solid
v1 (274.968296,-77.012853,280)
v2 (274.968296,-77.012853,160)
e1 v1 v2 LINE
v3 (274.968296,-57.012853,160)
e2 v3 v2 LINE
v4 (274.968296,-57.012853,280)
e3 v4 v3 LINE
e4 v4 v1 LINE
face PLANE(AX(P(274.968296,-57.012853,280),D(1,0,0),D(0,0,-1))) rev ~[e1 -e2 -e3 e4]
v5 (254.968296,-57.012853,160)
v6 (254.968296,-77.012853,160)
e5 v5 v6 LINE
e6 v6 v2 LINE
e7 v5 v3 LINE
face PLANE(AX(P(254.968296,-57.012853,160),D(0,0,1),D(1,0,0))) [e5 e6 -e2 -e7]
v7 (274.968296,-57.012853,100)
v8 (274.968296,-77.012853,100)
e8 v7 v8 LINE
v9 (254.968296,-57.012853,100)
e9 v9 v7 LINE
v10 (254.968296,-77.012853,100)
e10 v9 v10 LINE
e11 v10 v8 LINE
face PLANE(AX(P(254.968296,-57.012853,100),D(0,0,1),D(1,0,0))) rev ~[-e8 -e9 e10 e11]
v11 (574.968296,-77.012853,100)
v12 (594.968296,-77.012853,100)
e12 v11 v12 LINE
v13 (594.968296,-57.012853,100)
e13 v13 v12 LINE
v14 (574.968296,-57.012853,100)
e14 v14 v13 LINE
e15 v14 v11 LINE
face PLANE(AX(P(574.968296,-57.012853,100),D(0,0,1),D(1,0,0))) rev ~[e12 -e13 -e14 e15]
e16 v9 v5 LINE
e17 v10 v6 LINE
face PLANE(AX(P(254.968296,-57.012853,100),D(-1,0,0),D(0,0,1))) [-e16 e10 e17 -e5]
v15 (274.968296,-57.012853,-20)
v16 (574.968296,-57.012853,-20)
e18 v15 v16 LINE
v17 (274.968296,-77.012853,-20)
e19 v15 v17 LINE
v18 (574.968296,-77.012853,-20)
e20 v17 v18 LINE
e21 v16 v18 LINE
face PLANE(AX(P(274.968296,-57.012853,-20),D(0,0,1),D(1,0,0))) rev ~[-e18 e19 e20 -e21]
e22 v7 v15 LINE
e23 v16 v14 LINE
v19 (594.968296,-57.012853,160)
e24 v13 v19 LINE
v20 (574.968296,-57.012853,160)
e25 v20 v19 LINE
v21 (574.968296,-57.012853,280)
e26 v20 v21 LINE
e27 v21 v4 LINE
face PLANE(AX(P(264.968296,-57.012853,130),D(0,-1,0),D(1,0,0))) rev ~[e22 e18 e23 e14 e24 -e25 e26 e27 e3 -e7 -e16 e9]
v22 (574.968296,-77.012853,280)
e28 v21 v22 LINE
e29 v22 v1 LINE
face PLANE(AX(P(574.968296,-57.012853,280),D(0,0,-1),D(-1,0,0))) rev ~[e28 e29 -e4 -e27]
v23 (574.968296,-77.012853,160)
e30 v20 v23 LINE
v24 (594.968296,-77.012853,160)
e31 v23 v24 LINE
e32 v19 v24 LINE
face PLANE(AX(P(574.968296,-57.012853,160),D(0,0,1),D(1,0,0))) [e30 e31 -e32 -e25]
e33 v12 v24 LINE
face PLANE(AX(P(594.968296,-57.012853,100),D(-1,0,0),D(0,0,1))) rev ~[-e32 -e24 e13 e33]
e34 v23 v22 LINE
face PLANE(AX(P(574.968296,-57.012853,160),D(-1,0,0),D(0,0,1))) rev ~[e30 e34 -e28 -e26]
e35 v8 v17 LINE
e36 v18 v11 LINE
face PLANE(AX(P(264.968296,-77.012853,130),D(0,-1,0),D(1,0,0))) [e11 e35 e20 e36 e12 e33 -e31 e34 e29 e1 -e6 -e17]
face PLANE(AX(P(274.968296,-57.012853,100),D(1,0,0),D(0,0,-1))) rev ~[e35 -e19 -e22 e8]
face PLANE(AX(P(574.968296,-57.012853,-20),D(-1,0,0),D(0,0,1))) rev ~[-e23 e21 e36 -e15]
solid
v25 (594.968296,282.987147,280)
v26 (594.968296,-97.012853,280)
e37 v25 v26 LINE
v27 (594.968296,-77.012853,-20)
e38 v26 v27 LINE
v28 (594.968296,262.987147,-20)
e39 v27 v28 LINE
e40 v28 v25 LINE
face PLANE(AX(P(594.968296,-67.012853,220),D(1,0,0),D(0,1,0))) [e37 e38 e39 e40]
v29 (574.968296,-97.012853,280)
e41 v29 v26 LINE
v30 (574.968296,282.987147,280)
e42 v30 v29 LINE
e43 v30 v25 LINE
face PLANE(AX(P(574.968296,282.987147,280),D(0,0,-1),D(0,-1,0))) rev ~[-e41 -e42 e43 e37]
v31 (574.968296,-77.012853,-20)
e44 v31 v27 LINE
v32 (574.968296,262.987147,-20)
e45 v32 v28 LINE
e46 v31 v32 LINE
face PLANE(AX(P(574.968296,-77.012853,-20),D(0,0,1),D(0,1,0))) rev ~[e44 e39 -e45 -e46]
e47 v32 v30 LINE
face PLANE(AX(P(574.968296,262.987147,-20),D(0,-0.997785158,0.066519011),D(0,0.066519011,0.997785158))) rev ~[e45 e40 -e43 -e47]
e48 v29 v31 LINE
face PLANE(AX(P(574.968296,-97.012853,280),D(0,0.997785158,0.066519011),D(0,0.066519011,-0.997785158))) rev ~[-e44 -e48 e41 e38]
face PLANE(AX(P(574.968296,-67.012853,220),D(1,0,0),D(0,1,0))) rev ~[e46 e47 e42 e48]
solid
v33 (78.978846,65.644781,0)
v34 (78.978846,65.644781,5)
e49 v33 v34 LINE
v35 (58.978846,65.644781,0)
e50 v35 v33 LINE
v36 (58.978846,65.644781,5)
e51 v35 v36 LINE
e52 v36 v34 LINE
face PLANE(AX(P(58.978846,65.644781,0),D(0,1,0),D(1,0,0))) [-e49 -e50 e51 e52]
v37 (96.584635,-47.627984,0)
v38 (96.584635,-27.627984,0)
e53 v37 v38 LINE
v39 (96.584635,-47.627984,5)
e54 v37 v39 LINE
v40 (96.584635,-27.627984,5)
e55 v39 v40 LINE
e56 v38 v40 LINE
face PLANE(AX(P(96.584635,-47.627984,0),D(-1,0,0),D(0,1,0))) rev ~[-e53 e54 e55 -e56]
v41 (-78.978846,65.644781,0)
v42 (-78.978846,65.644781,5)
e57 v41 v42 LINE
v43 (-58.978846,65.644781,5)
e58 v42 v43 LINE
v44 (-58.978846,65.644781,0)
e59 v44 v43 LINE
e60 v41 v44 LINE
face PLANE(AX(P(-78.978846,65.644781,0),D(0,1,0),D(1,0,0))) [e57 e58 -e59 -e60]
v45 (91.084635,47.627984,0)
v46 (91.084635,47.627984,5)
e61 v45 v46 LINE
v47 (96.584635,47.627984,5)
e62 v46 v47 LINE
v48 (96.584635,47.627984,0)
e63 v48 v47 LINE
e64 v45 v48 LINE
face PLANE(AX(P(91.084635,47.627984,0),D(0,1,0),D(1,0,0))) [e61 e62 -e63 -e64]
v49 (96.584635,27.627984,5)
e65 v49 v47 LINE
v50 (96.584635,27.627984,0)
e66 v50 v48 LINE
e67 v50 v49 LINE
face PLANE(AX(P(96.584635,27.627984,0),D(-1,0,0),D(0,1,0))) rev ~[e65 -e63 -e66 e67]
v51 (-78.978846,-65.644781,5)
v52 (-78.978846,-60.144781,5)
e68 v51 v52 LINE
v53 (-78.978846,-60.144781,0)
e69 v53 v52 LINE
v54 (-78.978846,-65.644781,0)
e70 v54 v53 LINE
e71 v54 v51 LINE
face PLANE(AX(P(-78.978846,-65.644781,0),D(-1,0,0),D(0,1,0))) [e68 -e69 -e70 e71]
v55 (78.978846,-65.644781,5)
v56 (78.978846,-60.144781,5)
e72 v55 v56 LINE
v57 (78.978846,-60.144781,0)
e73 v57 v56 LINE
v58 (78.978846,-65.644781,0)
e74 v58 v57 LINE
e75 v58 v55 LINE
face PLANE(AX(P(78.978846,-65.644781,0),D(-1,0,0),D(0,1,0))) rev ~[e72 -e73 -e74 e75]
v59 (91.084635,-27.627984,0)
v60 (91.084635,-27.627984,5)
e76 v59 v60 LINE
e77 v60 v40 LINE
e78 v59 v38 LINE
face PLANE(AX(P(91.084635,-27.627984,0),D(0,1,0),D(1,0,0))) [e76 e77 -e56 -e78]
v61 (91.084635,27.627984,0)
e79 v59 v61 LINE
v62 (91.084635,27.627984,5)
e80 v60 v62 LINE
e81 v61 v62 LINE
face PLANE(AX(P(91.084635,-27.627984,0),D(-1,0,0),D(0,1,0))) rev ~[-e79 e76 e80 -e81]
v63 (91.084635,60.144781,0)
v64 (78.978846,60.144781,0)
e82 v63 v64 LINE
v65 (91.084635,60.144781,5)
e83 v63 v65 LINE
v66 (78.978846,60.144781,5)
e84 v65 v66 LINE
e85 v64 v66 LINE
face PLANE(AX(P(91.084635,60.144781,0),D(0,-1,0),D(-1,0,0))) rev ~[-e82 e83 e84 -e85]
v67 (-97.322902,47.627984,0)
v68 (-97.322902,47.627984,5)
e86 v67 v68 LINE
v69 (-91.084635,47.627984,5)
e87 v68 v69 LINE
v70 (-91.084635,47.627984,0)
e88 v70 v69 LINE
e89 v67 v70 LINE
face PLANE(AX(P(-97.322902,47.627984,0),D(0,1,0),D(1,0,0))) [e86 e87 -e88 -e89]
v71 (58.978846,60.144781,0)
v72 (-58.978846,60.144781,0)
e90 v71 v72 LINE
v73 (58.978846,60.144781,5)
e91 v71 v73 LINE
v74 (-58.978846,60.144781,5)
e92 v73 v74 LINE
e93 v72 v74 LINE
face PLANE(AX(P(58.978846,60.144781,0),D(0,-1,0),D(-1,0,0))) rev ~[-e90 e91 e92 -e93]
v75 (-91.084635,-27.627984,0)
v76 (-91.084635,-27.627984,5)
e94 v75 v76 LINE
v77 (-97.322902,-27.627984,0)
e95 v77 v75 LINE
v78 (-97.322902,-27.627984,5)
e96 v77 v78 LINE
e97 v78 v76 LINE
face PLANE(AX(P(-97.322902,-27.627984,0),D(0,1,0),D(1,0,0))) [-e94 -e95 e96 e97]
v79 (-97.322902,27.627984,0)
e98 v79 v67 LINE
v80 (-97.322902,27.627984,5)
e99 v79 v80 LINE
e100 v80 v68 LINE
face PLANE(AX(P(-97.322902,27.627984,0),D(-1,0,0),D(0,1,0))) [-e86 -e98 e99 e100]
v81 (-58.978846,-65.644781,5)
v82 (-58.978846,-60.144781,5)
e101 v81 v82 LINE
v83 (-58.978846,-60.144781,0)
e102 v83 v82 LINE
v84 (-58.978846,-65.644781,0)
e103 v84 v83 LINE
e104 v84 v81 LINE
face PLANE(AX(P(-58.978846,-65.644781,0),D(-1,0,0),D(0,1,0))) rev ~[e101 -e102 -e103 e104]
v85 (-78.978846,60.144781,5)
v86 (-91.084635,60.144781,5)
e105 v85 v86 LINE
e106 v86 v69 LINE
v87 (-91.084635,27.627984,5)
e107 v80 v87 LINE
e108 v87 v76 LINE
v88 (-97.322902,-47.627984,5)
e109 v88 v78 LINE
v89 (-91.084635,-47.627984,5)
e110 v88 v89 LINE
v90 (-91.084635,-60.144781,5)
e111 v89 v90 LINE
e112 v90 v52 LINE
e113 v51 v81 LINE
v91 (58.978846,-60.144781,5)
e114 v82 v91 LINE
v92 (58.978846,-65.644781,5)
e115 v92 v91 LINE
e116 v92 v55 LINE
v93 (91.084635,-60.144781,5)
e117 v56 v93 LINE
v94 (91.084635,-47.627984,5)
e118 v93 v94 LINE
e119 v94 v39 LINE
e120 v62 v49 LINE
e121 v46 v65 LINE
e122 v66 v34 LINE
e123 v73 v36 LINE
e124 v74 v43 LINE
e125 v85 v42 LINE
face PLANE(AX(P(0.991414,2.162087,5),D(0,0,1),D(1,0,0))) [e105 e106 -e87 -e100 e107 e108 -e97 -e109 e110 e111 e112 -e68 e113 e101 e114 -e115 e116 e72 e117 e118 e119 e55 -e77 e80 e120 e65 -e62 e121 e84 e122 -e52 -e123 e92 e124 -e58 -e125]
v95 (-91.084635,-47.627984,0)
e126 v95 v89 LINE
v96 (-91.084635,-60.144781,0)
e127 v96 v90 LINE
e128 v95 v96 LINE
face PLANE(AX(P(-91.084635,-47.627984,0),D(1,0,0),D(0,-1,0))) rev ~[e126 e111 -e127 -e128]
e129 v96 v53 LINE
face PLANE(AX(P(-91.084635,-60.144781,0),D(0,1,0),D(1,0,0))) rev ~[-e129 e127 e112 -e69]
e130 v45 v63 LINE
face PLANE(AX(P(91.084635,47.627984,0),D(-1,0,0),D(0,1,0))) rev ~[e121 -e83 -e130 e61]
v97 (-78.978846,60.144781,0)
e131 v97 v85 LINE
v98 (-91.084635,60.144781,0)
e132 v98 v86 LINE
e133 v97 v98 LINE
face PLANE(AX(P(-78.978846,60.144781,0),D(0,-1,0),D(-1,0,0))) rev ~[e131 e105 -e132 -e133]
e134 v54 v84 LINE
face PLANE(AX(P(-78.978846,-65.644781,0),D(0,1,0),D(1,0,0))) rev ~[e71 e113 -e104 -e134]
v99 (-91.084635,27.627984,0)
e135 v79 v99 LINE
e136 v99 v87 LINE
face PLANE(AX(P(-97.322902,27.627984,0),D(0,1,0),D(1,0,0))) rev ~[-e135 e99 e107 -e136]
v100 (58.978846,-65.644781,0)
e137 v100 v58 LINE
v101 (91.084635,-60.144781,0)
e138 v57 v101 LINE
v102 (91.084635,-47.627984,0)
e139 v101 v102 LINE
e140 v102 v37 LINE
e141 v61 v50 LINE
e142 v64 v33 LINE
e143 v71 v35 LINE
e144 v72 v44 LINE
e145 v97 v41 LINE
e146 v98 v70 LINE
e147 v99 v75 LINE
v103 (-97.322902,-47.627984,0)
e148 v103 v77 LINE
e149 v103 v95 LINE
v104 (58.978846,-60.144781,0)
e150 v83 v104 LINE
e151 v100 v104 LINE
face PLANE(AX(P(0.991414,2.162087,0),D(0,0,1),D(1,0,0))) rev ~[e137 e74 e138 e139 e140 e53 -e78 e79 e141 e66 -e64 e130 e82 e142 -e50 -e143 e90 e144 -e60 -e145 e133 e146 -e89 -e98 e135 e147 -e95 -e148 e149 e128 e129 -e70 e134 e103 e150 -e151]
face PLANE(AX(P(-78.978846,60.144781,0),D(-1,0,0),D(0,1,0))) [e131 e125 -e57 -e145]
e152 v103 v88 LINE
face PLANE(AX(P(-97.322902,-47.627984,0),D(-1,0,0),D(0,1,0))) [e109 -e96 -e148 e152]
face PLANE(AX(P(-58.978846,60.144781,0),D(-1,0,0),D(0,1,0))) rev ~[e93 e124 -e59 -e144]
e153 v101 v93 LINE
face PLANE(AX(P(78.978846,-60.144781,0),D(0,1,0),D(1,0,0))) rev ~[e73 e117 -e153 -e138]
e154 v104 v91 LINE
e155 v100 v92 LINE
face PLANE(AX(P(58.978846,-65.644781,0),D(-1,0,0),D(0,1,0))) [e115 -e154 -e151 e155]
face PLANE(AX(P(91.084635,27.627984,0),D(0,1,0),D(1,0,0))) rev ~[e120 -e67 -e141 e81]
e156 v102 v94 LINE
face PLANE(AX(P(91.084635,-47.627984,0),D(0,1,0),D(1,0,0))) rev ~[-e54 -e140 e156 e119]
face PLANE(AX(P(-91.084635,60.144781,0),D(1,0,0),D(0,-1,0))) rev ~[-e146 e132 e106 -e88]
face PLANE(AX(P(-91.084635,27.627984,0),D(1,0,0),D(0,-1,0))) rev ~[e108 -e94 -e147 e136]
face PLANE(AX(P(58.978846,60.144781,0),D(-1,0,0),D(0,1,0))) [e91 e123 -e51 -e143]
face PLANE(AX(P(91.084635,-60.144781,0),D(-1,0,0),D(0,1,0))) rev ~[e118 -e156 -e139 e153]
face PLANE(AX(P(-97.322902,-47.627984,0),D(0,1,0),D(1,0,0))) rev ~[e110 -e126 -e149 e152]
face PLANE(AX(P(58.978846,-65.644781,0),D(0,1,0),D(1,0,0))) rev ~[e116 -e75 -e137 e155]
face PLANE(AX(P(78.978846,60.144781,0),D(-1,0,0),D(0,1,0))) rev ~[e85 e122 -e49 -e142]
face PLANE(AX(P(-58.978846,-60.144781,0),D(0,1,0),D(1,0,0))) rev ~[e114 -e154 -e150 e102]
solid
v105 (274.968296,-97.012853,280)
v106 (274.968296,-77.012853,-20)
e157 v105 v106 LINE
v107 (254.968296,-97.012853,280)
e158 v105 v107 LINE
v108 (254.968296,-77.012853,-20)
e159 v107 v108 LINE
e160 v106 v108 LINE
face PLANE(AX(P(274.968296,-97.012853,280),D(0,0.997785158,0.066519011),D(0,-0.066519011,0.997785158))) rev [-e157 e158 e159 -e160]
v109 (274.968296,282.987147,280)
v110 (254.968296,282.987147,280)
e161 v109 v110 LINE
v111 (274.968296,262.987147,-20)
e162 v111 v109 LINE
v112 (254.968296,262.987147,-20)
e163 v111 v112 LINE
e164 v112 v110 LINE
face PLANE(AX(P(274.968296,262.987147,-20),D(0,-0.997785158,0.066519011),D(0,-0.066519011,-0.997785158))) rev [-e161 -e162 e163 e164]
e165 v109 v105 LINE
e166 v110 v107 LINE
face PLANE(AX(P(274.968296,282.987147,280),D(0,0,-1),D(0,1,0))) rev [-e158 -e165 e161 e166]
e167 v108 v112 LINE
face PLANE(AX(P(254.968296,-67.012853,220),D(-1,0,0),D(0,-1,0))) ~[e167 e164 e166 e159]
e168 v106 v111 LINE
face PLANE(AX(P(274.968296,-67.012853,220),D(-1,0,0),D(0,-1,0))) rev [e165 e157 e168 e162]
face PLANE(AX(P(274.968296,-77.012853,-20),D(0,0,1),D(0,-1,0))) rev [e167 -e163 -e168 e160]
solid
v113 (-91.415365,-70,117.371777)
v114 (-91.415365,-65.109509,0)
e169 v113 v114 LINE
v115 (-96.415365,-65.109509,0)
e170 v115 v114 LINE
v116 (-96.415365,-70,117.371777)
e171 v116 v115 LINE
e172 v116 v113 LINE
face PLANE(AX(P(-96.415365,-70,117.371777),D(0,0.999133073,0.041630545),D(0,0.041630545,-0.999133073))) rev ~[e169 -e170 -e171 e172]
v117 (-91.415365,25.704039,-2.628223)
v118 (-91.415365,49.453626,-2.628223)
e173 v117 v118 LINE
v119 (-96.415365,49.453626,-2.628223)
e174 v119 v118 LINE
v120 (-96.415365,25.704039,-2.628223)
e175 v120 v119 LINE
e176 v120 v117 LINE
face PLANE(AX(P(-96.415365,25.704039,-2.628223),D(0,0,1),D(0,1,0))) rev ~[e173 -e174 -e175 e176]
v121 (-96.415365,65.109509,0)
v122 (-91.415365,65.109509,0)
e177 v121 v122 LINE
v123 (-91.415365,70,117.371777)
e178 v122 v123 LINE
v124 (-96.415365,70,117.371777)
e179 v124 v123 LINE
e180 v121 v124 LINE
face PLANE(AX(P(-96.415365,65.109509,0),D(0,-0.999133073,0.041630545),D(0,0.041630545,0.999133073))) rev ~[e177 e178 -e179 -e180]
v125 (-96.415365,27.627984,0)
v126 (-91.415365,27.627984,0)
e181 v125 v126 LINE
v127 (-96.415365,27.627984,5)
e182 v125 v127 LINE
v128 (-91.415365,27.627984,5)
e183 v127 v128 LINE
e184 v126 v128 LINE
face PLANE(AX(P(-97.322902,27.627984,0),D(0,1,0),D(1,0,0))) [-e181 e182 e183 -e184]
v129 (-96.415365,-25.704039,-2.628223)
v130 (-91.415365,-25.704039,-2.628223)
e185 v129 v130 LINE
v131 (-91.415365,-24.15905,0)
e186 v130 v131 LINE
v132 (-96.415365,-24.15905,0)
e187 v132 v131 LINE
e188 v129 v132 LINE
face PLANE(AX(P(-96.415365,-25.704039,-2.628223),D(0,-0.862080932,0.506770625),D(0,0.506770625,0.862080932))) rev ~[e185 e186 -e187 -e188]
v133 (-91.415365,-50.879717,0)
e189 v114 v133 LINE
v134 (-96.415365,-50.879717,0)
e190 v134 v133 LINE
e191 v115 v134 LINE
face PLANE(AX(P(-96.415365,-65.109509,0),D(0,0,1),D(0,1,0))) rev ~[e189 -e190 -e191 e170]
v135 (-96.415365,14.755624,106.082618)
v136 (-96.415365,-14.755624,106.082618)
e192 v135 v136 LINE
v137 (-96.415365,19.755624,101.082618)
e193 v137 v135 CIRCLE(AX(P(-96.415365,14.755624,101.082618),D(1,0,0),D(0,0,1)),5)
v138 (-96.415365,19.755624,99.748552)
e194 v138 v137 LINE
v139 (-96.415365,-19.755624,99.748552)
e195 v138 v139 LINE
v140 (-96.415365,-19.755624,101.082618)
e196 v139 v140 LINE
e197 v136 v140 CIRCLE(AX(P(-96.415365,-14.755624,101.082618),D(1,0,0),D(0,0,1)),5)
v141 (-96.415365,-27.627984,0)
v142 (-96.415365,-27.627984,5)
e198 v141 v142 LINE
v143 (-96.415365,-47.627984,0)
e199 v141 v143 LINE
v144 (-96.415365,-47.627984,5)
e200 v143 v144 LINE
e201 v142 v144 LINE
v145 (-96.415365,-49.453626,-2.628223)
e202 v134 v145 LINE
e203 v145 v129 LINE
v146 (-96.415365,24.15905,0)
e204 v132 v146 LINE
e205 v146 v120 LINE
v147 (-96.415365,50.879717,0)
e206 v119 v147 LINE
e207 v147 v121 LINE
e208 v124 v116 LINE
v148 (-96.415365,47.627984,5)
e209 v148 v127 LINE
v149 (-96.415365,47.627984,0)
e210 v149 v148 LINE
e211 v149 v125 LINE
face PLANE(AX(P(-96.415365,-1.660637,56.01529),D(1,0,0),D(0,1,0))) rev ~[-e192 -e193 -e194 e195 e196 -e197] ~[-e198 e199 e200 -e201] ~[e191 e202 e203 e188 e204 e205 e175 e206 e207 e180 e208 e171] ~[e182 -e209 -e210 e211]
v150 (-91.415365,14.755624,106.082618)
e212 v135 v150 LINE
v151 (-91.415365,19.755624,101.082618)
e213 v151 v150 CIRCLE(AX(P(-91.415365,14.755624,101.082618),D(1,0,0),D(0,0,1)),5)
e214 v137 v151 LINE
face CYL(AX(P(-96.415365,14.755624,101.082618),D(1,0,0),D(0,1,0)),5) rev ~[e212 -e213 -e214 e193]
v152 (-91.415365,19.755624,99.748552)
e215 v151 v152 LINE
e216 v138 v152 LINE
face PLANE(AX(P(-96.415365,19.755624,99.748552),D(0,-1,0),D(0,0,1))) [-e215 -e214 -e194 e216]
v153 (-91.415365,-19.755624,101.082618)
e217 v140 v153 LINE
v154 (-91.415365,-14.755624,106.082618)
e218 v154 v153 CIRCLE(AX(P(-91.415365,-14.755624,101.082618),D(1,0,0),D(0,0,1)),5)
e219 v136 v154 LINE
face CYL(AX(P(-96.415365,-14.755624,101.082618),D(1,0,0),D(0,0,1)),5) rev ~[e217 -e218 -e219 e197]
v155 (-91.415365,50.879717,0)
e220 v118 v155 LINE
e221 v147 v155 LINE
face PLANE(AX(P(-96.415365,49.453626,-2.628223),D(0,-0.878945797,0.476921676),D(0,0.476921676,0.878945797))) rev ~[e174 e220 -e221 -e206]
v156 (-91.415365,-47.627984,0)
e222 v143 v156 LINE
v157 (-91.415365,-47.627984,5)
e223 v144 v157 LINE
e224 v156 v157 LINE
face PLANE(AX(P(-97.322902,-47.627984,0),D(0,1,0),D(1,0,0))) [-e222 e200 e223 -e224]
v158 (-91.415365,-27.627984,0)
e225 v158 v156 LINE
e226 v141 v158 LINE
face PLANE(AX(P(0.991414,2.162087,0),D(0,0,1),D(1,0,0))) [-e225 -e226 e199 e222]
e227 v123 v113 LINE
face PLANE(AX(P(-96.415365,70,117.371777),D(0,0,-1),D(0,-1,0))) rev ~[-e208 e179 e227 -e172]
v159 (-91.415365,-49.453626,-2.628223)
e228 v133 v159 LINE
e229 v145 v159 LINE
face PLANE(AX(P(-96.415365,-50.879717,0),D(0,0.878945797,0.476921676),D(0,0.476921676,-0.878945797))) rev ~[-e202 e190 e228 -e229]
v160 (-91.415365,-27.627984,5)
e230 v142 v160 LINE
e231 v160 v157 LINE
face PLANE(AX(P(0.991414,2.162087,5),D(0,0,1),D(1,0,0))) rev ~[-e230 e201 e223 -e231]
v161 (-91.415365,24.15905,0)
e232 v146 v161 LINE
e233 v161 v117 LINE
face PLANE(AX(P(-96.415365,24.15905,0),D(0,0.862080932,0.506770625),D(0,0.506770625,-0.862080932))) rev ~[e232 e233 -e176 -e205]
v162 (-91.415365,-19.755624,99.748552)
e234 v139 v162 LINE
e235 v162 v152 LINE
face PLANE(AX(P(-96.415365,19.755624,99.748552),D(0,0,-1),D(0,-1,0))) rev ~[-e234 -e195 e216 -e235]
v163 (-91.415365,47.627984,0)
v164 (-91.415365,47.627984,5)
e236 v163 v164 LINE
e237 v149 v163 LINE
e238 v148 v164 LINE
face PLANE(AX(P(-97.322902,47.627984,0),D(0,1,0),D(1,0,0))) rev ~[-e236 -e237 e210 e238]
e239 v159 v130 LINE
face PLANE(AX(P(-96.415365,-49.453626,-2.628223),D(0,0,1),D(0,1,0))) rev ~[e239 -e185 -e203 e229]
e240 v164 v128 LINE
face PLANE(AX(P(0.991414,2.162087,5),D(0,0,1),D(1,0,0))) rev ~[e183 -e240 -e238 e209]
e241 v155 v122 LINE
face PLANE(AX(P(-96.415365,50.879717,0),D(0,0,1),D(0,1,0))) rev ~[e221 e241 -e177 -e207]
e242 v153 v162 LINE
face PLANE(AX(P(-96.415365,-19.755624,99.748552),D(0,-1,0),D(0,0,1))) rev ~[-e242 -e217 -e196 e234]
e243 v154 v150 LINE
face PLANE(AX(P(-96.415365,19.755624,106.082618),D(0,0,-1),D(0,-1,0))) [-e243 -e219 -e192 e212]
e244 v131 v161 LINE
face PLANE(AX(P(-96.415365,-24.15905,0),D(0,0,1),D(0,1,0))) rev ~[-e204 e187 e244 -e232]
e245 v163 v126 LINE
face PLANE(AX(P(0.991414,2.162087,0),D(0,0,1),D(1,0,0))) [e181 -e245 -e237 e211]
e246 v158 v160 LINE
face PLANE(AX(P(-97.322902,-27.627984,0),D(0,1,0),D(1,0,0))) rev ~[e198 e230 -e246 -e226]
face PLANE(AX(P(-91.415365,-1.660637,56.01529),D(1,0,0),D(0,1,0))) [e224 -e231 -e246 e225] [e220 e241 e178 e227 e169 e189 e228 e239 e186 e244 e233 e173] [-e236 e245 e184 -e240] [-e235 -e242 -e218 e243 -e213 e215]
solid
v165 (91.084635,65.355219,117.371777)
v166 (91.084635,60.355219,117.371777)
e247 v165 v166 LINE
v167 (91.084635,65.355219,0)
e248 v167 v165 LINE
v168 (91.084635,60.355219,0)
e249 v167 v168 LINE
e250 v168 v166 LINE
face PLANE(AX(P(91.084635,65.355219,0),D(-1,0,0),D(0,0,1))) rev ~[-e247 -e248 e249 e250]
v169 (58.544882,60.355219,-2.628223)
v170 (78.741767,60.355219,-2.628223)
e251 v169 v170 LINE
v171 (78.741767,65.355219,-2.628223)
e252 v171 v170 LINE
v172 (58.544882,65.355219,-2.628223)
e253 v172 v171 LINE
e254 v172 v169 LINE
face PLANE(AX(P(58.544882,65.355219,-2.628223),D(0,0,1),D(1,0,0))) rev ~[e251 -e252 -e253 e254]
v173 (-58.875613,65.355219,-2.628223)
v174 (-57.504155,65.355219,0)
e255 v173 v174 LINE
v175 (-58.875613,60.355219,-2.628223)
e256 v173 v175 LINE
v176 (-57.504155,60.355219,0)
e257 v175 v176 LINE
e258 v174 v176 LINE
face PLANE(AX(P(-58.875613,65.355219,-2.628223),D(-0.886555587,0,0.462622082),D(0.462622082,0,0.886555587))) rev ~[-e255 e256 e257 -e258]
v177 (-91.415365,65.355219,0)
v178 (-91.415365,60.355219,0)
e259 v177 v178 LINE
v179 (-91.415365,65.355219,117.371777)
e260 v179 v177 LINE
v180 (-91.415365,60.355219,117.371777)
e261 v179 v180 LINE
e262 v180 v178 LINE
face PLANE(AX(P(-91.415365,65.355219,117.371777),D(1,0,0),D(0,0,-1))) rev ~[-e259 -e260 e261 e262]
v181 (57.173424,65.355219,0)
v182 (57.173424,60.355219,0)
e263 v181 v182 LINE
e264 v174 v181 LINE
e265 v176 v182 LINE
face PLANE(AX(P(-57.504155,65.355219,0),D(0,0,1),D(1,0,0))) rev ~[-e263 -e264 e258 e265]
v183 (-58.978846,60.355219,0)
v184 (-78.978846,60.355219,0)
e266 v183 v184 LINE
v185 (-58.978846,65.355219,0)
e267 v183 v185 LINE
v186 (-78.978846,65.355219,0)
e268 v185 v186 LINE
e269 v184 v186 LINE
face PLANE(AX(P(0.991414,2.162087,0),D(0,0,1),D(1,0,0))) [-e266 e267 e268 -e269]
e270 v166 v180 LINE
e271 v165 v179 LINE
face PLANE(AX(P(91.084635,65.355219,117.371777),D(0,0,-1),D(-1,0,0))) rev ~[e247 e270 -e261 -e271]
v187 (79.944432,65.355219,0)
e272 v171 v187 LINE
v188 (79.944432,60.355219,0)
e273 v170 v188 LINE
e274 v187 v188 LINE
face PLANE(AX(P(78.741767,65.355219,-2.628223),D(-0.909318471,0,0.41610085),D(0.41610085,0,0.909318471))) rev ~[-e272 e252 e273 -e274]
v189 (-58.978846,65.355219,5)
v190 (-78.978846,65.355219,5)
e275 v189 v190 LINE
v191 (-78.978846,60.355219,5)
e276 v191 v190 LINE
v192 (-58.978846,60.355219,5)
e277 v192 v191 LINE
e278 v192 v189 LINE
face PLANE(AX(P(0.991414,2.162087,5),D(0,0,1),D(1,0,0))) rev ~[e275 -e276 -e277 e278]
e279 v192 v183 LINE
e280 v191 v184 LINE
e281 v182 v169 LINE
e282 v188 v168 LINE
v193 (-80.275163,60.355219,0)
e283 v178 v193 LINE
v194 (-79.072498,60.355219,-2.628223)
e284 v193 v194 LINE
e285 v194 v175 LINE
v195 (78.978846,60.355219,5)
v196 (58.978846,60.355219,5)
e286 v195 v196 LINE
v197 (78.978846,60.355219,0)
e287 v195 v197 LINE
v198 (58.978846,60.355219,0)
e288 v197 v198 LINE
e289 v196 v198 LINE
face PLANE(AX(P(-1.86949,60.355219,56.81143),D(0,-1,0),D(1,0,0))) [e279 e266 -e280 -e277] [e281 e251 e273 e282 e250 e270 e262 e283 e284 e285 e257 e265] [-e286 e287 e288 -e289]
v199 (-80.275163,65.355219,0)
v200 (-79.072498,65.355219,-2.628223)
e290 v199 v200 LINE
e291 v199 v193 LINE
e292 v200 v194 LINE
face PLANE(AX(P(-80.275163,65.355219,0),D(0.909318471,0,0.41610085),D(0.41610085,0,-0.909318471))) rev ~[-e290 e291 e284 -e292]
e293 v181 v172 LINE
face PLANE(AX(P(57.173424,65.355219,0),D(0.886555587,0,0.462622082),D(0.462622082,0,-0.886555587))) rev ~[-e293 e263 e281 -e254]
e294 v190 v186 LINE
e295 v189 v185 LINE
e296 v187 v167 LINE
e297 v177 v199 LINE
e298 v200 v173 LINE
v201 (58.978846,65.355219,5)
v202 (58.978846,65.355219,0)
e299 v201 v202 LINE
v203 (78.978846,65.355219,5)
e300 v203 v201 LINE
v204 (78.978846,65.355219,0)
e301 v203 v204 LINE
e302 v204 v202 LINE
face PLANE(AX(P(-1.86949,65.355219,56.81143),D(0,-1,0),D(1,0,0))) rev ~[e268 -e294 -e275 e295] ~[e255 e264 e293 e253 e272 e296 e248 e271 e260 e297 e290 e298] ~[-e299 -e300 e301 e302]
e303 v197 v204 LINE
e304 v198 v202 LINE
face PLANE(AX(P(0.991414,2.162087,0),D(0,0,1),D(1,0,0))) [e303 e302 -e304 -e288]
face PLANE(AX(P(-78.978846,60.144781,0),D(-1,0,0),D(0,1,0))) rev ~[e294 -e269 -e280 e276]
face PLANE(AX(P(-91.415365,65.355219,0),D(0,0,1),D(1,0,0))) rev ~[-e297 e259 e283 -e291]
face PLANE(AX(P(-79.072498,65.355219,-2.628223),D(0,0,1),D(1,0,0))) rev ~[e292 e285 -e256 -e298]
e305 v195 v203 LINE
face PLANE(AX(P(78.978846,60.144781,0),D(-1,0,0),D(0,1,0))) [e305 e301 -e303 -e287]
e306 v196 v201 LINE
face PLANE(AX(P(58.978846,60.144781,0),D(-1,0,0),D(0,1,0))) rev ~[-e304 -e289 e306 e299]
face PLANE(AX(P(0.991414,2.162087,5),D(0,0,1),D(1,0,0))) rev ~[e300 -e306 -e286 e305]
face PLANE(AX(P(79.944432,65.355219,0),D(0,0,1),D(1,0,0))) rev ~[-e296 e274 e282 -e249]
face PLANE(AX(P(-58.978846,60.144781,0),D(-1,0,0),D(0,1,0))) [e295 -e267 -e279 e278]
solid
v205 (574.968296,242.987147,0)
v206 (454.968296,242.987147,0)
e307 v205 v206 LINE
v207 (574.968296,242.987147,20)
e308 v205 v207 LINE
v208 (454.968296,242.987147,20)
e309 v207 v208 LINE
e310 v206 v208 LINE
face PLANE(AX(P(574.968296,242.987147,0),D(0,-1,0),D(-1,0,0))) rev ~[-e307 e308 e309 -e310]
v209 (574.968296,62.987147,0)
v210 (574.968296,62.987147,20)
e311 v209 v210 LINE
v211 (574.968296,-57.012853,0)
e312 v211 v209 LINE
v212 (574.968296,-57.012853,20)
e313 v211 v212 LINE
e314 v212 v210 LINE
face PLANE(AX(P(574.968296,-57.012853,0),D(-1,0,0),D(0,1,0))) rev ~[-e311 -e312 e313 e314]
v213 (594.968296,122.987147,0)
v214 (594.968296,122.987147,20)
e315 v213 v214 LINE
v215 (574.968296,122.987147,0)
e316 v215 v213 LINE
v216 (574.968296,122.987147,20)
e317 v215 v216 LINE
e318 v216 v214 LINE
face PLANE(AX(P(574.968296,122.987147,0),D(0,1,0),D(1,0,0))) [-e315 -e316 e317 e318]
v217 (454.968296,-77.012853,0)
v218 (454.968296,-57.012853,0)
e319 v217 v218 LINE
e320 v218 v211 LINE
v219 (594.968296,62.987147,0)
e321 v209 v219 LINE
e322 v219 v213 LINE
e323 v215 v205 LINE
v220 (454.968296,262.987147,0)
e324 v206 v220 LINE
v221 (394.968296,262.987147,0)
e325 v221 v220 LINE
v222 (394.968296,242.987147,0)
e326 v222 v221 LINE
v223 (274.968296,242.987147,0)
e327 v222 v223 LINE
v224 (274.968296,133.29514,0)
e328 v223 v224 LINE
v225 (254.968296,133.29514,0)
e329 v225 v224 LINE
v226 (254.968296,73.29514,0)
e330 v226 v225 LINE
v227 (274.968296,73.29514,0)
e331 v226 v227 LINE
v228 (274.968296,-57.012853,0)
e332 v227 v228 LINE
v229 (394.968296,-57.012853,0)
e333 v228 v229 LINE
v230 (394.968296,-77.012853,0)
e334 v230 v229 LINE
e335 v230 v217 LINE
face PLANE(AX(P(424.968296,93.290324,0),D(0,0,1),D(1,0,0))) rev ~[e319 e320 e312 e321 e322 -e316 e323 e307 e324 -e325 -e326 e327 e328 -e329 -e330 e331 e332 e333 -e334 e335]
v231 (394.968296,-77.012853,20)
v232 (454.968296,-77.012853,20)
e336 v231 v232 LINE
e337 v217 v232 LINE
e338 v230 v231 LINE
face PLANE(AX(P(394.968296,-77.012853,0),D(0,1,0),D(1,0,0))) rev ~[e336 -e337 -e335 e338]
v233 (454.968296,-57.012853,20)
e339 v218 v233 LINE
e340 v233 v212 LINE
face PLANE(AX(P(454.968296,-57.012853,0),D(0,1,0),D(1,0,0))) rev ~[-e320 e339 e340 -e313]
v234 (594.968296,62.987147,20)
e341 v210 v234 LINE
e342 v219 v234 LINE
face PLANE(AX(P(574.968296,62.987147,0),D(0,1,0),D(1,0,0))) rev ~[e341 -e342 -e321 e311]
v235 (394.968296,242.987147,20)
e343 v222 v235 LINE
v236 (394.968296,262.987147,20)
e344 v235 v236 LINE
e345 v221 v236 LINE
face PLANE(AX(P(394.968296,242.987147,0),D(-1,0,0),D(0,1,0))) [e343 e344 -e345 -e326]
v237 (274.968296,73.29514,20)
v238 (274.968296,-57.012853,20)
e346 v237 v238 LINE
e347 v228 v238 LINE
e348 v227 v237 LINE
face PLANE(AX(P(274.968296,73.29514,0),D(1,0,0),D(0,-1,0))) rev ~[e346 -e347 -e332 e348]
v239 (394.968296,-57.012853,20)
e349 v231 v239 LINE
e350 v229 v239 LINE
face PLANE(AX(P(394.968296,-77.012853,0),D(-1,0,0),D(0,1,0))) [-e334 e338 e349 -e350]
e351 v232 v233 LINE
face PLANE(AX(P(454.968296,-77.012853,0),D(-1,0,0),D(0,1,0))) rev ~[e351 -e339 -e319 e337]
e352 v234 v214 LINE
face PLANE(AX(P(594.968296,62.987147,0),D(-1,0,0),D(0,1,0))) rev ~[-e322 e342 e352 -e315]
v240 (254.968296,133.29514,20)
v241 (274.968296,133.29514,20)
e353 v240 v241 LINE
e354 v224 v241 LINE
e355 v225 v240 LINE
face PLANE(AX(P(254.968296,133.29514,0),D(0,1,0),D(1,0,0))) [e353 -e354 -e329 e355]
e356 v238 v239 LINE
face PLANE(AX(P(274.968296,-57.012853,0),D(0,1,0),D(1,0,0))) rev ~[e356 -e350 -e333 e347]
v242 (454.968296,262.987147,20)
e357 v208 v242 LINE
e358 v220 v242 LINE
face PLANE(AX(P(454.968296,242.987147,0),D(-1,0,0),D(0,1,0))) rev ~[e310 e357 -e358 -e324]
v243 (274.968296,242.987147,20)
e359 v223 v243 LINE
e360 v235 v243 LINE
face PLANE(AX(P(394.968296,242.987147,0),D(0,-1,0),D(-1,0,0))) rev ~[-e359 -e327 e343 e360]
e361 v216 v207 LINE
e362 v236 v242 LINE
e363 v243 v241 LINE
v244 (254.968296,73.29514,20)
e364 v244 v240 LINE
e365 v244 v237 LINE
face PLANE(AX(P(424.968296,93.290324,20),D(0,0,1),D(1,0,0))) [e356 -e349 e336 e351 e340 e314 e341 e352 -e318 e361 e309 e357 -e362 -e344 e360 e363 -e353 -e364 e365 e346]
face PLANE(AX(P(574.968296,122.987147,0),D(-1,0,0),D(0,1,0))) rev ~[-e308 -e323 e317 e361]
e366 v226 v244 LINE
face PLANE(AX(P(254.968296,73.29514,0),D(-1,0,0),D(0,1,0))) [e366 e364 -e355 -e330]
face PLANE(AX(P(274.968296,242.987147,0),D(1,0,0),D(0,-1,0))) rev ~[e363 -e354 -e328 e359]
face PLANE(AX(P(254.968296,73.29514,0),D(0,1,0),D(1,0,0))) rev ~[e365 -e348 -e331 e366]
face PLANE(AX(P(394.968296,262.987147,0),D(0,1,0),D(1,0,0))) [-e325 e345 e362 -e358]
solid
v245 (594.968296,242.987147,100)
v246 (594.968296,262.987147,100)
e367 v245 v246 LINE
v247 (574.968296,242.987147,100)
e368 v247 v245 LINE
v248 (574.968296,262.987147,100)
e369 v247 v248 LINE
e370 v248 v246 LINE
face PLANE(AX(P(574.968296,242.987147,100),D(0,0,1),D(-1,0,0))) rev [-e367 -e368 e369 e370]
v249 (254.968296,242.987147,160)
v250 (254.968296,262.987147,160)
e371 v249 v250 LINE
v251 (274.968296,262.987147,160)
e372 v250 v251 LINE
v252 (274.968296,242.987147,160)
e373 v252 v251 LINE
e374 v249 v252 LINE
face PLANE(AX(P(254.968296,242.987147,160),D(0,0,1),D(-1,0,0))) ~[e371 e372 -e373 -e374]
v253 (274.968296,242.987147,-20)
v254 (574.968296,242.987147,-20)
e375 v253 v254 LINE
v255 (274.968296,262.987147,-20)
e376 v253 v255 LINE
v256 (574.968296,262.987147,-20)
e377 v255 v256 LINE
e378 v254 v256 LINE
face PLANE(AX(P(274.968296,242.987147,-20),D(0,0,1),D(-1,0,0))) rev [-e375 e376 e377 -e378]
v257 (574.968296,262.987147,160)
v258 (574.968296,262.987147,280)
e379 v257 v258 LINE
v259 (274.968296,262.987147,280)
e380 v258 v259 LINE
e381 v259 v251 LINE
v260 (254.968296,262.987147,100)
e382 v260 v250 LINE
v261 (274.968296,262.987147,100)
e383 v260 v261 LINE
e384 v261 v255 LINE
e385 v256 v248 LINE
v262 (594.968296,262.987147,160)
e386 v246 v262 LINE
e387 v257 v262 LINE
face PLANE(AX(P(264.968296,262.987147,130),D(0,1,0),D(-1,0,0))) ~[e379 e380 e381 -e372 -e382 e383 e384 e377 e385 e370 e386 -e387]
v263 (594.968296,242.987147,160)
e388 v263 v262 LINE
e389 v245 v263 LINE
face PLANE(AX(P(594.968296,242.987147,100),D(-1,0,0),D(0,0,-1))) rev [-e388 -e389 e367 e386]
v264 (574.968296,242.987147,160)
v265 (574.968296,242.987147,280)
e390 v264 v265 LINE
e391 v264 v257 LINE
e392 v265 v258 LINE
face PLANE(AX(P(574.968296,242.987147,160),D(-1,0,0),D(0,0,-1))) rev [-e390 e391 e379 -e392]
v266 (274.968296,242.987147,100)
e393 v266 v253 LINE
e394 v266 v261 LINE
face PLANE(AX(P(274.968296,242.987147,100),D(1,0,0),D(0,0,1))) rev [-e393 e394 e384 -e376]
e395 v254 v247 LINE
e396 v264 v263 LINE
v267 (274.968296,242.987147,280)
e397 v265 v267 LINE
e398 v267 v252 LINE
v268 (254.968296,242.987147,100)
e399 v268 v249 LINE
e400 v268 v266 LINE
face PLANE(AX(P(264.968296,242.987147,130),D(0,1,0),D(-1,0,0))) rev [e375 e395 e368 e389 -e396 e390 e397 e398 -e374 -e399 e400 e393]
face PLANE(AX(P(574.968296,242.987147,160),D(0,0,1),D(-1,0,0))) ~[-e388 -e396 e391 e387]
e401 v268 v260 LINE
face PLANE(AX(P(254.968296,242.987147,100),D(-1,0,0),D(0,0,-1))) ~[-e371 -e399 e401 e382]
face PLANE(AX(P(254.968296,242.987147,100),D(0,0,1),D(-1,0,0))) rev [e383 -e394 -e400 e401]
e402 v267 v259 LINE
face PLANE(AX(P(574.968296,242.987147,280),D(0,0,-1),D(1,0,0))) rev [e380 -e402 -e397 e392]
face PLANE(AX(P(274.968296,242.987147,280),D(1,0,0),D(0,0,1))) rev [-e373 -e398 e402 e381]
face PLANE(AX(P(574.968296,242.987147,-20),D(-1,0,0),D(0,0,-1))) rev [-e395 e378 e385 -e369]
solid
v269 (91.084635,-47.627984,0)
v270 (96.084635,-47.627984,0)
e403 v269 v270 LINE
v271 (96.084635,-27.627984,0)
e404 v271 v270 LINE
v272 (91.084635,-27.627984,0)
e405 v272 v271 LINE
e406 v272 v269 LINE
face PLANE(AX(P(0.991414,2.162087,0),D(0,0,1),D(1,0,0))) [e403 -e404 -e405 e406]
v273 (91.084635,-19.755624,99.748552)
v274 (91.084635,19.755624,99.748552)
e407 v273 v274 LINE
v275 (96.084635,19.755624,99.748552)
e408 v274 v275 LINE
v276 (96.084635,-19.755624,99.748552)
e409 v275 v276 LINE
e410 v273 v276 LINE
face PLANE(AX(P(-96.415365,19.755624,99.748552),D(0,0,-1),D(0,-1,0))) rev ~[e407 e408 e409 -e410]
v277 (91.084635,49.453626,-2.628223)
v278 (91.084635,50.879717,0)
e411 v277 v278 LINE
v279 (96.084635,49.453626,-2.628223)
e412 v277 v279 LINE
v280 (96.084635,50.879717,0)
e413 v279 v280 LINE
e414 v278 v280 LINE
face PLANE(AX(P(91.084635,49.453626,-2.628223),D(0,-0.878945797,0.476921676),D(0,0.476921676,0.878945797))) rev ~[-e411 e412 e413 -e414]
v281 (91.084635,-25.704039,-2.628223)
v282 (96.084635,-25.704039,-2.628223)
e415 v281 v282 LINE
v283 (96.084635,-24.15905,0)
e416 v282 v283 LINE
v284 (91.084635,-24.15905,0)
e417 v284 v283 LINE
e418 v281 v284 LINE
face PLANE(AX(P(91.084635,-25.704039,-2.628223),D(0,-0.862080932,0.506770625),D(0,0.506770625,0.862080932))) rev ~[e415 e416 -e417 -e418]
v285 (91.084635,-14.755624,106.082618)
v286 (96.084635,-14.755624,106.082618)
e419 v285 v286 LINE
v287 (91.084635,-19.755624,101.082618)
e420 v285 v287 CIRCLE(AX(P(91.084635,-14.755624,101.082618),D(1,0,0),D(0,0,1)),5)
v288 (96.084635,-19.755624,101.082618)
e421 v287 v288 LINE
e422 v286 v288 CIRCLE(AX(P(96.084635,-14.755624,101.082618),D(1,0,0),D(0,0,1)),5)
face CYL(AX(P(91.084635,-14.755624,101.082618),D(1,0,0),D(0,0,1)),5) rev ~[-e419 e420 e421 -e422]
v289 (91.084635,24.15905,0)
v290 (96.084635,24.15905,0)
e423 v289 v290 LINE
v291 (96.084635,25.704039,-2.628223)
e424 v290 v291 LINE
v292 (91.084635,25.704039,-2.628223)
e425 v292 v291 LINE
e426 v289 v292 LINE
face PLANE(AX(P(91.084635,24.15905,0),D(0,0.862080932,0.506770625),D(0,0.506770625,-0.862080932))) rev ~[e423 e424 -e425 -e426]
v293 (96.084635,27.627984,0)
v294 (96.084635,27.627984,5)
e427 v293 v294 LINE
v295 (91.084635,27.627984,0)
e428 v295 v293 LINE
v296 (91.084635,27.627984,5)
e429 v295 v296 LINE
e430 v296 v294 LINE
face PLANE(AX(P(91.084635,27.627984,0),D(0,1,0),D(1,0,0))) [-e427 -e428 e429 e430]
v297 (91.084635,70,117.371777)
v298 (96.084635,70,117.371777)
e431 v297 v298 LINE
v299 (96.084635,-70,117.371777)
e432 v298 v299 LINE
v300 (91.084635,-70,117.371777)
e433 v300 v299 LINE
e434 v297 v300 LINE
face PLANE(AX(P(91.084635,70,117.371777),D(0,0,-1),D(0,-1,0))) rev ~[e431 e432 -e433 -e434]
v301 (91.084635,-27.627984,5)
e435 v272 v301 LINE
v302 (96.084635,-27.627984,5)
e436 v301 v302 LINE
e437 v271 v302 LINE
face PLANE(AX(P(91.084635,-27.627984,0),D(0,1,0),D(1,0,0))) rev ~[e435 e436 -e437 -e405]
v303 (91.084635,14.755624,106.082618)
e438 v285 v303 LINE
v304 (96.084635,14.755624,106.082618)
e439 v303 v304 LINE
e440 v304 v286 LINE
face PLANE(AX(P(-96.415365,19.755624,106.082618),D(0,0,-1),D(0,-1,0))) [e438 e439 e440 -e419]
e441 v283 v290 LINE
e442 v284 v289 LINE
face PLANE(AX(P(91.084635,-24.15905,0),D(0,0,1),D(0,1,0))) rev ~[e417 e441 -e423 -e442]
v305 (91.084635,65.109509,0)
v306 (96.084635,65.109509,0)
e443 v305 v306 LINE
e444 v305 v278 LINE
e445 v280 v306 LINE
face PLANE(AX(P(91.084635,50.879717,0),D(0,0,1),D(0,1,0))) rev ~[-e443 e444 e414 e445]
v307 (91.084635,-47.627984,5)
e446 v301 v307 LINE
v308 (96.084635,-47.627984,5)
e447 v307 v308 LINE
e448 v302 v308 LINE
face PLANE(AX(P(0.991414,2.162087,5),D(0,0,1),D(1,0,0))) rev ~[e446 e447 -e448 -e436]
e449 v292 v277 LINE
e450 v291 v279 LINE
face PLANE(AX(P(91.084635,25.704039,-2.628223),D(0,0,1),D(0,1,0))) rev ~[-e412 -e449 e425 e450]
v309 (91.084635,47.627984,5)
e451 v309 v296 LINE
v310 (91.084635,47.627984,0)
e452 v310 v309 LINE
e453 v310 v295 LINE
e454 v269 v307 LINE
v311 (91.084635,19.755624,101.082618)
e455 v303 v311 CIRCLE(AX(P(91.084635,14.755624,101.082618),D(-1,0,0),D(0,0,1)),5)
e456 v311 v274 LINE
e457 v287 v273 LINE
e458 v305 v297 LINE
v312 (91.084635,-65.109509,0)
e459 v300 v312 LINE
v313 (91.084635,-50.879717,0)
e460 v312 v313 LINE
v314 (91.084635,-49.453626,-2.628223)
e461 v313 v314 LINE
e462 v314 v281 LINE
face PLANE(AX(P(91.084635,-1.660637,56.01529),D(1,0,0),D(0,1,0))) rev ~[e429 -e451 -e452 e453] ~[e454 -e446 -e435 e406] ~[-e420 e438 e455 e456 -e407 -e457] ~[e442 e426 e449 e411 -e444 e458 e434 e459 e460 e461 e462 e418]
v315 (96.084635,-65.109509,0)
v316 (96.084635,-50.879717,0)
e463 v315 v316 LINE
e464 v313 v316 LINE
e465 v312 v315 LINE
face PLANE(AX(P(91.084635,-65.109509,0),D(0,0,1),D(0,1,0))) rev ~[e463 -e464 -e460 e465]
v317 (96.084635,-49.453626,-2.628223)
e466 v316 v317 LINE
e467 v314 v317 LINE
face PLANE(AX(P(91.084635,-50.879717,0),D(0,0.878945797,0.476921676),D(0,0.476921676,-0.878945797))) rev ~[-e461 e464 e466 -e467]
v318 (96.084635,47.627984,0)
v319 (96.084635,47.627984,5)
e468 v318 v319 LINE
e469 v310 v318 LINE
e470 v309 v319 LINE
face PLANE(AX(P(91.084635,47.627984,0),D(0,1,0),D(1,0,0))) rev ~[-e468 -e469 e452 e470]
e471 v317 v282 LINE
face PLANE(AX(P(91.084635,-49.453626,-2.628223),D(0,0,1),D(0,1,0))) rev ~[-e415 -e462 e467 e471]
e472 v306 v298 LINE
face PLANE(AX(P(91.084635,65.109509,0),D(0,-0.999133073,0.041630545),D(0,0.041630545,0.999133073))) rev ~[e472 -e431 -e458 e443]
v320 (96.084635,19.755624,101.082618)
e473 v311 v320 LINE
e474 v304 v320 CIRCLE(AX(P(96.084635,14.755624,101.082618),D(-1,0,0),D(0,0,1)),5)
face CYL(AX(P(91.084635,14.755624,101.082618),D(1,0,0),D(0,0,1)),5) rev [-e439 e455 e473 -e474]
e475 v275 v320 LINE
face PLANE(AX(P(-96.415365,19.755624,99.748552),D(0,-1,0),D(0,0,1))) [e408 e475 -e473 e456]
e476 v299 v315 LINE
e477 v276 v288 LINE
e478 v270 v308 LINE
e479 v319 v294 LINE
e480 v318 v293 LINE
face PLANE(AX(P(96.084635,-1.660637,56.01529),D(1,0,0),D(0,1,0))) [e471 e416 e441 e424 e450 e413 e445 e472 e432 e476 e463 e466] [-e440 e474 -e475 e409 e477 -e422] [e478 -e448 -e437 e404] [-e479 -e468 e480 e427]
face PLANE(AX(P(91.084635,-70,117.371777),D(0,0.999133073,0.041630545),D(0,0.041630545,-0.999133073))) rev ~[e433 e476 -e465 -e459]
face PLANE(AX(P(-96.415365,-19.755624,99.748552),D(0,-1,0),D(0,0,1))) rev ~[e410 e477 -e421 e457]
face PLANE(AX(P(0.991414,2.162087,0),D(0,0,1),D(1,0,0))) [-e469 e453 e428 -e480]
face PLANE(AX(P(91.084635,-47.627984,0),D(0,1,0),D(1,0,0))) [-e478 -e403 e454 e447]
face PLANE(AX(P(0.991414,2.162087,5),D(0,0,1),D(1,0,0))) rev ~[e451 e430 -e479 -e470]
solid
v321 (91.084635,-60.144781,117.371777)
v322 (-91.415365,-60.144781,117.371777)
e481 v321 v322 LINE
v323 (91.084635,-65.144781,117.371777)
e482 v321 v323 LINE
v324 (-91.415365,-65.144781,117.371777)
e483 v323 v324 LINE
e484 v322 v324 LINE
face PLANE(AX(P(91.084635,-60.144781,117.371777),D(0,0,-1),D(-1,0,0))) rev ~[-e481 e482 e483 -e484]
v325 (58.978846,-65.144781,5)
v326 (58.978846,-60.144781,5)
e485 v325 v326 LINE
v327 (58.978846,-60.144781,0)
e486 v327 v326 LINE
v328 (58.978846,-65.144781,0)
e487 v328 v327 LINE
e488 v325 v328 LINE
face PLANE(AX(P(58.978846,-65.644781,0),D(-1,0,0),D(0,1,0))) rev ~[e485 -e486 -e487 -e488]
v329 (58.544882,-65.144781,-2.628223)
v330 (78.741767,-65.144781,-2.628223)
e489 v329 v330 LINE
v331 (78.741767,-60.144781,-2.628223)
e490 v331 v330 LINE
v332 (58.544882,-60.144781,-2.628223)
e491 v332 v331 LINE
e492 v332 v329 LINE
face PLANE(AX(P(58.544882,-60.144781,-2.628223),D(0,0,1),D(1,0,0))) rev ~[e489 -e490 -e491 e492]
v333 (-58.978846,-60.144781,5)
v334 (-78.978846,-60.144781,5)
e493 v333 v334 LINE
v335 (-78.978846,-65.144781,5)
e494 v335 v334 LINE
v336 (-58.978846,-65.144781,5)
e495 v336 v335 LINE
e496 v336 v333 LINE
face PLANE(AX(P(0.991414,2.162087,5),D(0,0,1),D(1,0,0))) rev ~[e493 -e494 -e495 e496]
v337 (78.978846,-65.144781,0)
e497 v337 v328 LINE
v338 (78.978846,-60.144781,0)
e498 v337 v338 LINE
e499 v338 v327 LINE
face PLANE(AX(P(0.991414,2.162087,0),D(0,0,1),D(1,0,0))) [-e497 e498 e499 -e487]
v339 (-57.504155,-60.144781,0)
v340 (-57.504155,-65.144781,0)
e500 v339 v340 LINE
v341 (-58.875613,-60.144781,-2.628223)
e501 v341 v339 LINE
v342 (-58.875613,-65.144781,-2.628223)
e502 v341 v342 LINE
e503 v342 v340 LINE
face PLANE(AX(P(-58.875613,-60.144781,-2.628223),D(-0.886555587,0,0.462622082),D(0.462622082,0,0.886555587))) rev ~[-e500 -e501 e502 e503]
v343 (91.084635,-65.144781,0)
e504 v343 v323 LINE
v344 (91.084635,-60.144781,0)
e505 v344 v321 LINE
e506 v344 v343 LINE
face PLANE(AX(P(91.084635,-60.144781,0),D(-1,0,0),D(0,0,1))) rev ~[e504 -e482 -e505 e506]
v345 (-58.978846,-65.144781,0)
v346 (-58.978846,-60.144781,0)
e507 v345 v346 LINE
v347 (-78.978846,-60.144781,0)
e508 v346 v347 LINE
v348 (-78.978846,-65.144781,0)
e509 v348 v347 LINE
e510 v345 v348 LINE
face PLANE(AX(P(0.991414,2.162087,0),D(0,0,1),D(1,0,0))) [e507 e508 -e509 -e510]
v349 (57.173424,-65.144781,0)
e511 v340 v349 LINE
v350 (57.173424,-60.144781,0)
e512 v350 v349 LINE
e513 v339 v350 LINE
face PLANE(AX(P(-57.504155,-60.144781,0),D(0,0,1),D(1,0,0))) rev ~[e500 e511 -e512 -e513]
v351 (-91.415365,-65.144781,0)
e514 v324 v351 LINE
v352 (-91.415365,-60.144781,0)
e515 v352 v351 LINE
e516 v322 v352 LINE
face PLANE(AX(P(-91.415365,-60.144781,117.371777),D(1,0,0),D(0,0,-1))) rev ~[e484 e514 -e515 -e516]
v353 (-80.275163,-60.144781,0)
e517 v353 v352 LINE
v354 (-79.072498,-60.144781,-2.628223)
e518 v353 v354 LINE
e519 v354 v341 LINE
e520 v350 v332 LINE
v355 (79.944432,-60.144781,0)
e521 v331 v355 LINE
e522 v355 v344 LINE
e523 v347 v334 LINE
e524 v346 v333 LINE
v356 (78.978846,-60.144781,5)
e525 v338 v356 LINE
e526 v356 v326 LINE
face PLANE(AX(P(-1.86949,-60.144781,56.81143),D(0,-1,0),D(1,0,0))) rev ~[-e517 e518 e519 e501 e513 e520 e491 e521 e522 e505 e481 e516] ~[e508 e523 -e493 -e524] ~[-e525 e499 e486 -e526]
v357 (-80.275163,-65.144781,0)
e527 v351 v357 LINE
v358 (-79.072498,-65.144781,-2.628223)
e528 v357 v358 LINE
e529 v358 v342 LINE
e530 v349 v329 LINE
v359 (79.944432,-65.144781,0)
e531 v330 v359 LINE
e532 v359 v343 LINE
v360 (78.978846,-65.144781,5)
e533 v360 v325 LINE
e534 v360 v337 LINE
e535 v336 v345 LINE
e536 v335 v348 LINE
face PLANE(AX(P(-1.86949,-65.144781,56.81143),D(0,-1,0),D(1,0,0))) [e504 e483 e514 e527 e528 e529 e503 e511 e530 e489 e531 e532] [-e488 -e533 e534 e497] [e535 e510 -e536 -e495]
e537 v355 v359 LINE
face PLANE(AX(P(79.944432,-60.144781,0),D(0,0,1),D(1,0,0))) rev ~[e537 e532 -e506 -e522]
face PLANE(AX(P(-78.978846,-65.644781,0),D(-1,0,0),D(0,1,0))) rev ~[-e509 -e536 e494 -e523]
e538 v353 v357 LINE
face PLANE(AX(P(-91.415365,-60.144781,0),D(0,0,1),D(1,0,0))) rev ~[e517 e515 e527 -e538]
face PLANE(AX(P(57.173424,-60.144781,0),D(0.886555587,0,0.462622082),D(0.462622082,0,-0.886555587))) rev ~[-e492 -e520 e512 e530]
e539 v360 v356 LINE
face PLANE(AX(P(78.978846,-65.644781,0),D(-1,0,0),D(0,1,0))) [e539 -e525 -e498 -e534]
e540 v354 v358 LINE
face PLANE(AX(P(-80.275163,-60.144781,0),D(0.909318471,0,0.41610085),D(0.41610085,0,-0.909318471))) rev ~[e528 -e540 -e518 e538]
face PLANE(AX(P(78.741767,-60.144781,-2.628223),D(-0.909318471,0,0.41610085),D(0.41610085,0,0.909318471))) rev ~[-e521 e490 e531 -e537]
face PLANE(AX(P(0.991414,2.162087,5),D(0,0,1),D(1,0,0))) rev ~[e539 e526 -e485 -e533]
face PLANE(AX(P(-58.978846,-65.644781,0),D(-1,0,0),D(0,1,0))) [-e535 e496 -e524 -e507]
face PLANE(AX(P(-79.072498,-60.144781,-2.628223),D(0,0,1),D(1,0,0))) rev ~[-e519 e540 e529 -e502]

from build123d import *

# Parameters (mm, degrees)
F0_W      = 20
F0_H      = 5.5
F0_W_2    = 5.5
F0_H_2    = 20
F0_W_3    = 6.2382672471
F0_W_4    = 4.7617327529
F0_H_3    = 7.058719861
F1_DEPTH  = 5
F3_DEPTH  = 5
F6_DEPTH  = 5
F10_W     = 39.5112484694
F10_H     = 6.334066391
F11_DEPTH = 192.5
F12_R     = 5
F12_2_R   = 5
F13_W     = 20
F13_H     = 60
F13_W_2   = 60
F13_H_2   = 20
F14_DEPTH = 20
F15_W     = 20
F15_H     = 60
F15_W_2   = 120
F15_H_2   = 20
F16_DEPTH = 20
F19_W     = 20
F19_H     = 120
F20_DEPTH = 20


with BuildPart() as f1:
    # F0 (on Top) → F1 (new body)
    with BuildSketch(Plane.XY):
        Polygon((78.9788460732, -60.1447808916), (91.0846347042, -60.1447808916), (91.0846347042, -47.6279838383), (91.0846347042, -27.6279838383), (91.0846347042, 27.6279838383), (85.5846347042, 27.6279838383), (85.5846347042, 47.6279838383), (91.0846347042, 47.6279838383), (91.0846347042, 60.1447808916), (78.9788460732, 60.1447808916), (78.9788460732, 54.6447808916), (58.9788460732, 54.6447808916), (58.9788460732, 60.1447808916), (-58.9788460732, 60.1447808916), (-58.9788460732, 53.0860610306), (-78.9788460732, 53.0860610306), (-78.9788460732, 60.1447808916), (-91.0846347042, 60.1447808916), (-91.0846347042, 47.6279838383), (-86.3229019513, 47.6279838383), (-86.3229019513, 27.6279838383), (-91.0846347042, 27.6279838383), (-91.0846347042, -27.6279838383), (-91.0846347042, -47.6279838383), (-91.0846347042, -60.1447808916), (-78.9788460732, -60.1447808916), (-58.9788460732, -60.1447808916), (58.9788460732, -60.1447808916), (58.9788460732, -54.6447808916), (78.9788460732, -54.6447808916), align=None)
        with Locations((68.9788460732, -62.8947808916)):
            Rectangle(F0_W, F0_H)
        with Locations((68.9788460732, -57.3947808916)):
            Rectangle(F0_W, F0_H)
        with Locations((93.8346347042, -37.6279838383)):
            Rectangle(F0_W_2, F0_H_2)
        with Locations((-68.9788460732, -62.8947808916)):
            Rectangle(F0_W, F0_H)
        with Locations((88.3346347042, 37.6279838383)):
            Rectangle(F0_W_2, F0_H_2)
        with Locations((93.8346347042, 37.6279838383)):
            Rectangle(F0_W_2, F0_H_2)
        with Locations((-94.2037683277, -37.6279838383)):
            Rectangle(F0_W_3, F0_H_2)
        with Locations((68.9788460732, 57.3947808916)):
            Rectangle(F0_W, F0_H)
        with Locations((68.9788460732, 62.8947808916)):
            Rectangle(F0_W, F0_H)
        with Locations((-94.2037683277, 37.6279838383)):
            Rectangle(F0_W_3, F0_H_2)
        with Locations((-88.7037683277, 37.6279838383)):
            Rectangle(F0_W_4, F0_H_2)
        with Locations((-68.9788460732, 56.6154209611)):
            Rectangle(F0_W, F0_H_3)
        with Locations((-68.9788460732, 62.8947808916)):
            Rectangle(F0_W, F0_H)
    extrude(amount=F1_DEPTH)


with BuildPart() as f3:
    # F2 (on face) → F3 (new body)
    with BuildSketch(Plane.YZ.offset(91.0846347042)):
        Polygon((-50.8797168732, 0), (-49.4536261749, -2.6282228064), (-25.7040392607, -2.6282228064), (-24.1590496153, 0), (24.1590496153, 0), (25.7040392607, -2.6282228064), (49.4536261749, -2.6282228064), (50.8797168732, 0), (65, 0), (65, 117.3717771936), (-65, 117.3717771936), (-65, 0), (-60.1447808916, 0), (-60.1447808916, 5), (-47.6279838383, 5), (-47.6279838383, 0), align=None)
        Polygon((-60.1447808916, 0), (-50.8797168732, 0), (-47.6279838383, 0), (-47.6279838383, 5), (-60.1447808916, 5), align=None)
        Polygon((-65.1095092836, 0), (-65, 0), (-65, 117.3717771936), (-70, 117.3717771936), align=None)
        Polygon((70, 117.3717771936), (65, 117.3717771936), (65, 0), (65.1095092836, 0), align=None)
    extrude(amount=F3_DEPTH)


with BuildPart() as f4_1:
    # F4: copy of F3
    add(f3.part.moved(Location((-187.5, 0, 0))))

    # F8: cut F1
    add(f1.part, mode=Mode.SUBTRACT)


with BuildPart() as f6:
    # F5 (on face) → F6 (new body)
    with BuildSketch(Plane.XZ.offset(60.1447808916)):
        Polygon((-80.2751630545, 0), (-79.0724977851, -2.6282228064), (-58.8756129146, -2.6282228064), (-57.5041547418, 0), (57.1734241501, 0), (58.5448823229, -2.6282228064), (78.7417671934, -2.6282228064), (79.9444324628, 0), (91.0846347042, 0), (91.0846347042, 117.3717771936), (-91.4153652958, 117.3717771936), (-91.4153652958, 0), (-91.0846347042, 0), (-91.0846347042, 5), (-78.9788460732, 5), (-78.9788460732, 0), align=None)
        Polygon((-91.0846347042, 0), (-80.2751630545, 0), (-78.9788460732, 0), (-78.9788460732, 5), (-91.0846347042, 5), align=None)
    extrude(amount=F6_DEPTH)


with BuildPart() as f7_1:
    # F7: copy of F6
    add(f6.part.moved(Location((0, 125.5, 0))))

    # F8: cut F1
    add(f1.part, mode=Mode.SUBTRACT)

    # F9: cut F1
    add(f1.part, mode=Mode.SUBTRACT)


with BuildPart() as f3_1:
    add(f3.part)

    # F8: cut F1
    add(f1.part, mode=Mode.SUBTRACT)


with BuildPart() as f6_1:
    add(f6.part)

    # F8: cut F1
    add(f1.part, mode=Mode.SUBTRACT)

    # F9: cut F1
    add(f1.part, mode=Mode.SUBTRACT)


with BuildPart() as f11_tool:
    # F10 (on face) → F11 (new body, through all)
    with BuildSketch(Plane(origin=(-96.4153652958, 0, 0), x_dir=(0, -1, 0), z_dir=(-1, 0, 0))):
        with Locations((0, 102.915585041)):
            Rectangle(F10_W, F10_H)
    extrude(amount=-F11_DEPTH)


with BuildPart() as f3_2:
    add(f3_1.part)

    # F11: cut by f11_tool
    add(f11_tool.part, mode=Mode.SUBTRACT)

    # F12
    f12_edges = [f3_2.edges().sort_by_distance(p)[0] for p in [
        (93.584635, 19.755624, 106.082618),
        (93.584635, -19.755624, 106.082618),
    ]]
    fillet(f12_edges, radius=F12_R)


with BuildPart() as f4_1_1:
    add(f4_1.part)

    # F11: cut by f11_tool
    add(f11_tool.part, mode=Mode.SUBTRACT)

    # F12#2
    f12_2_edges = [f4_1_1.edges().sort_by_distance(p)[0] for p in [
        (-93.915365, 19.755624, 106.082618),
        (-93.915365, -19.755624, 106.082618),
    ]]
    fillet(f12_2_edges, radius=F12_2_R)


with BuildPart() as f14:
    # F13 (on Top) → F14 (new body)
    with BuildSketch(Plane.XY):
        Polygon((394.9682962894, 242.9871472716), (274.9682962894, 242.9871472716), (274.9682962894, 133.2951399684), (294.9682962894, 133.2951399684), (294.9682962894, 73.2951399684), (274.9682962894, 73.2951399684), (274.9682962894, -57.0128527284), (394.9682962894, -57.0128527284), (394.9682962894, -37.0128527284), (454.9682962894, -37.0128527284), (454.9682962894, -57.0128527284), (574.9682962894, -57.0128527284), (574.9682962894, 62.9871472716), (554.9682962894, 62.9871472716), (554.9682962894, 122.9871472716), (574.9682962894, 122.9871472716), (574.9682962894, 242.9871472716), (454.9682962894, 242.9871472716), (454.9682962894, 222.9871472716), (394.9682962894, 222.9871472716), align=None)
        with Locations((264.9682962894, 103.2951399684)):
            Rectangle(F13_W, F13_H)
        with Locations((424.9682962894, 252.9871472716)):
            Rectangle(F13_W_2, F13_H_2)
        with Locations((584.9682962894, 92.9871472716)):
            Rectangle(F13_W, F13_H)
        with Locations((424.9682962894, -67.0128527284)):
            Rectangle(F13_W_2, F13_H_2)
        with Locations((424.9682962894, -47.0128527284)):
            Rectangle(F13_W_2, F13_H_2)
        with Locations((564.9682962894, 92.9871472716)):
            Rectangle(F13_W, F13_H)
        with Locations((424.9682962894, 232.9871472716)):
            Rectangle(F13_W_2, F13_H_2)
        with Locations((284.9682962894, 103.2951399684)):
            Rectangle(F13_W, F13_H)
    extrude(amount=F14_DEPTH)


with BuildPart() as f16:
    # F15 (on face) → F16 (new body)
    with BuildSketch(Plane.XZ.offset(57.0128527284)):
        with Locations((264.9682962894, 130)):
            Rectangle(F15_W, F15_H)
        Polygon((274.9682962894, 0), (274.9682962894, -20), (574.9682962894, -20), (574.9682962894, 100), (554.9682962894, 100), (554.9682962894, 160), (574.9682962894, 160), (574.9682962894, 280), (274.9682962894, 280), (274.9682962894, 160), (294.9682962894, 160), (294.9682962894, 100), (274.9682962894, 100), (274.9682962894, 20), (394.9682962894, 20), (394.9682962894, 0), align=None)
        with Locations((584.9682962894, 130)):
            Rectangle(F15_W, F15_H)
        with Locations((564.9682962894, 130)):
            Rectangle(F15_W, F15_H)
        with Locations((284.9682962894, 130)):
            Rectangle(F15_W, F15_H)
        with Locations((334.9682962894, 10)):
            Rectangle(F15_W_2, F15_H_2)
    extrude(amount=F16_DEPTH)


with BuildPart() as f18_1:
    # F18: instance of F16
    add(f16.part.mirror(Plane(origin=(424.9682962894, 92.9871472716, 130), x_dir=(1, 0, 0), z_dir=(0, 1, 0))))


with BuildPart() as f20:
    # F19 (on face) → F20 (new body)
    with BuildSketch(Plane.YZ.offset(574.9682962894)):
        with Locations((-67.0128527284, 220)):
            Rectangle(F19_W, F19_H)
        Polygon((-77.0128527284, 280), (-97.0128527284, 280), (-77.0128527284, -20), (262.9871472716, -20), (282.9871472716, 280), (-57.0128527284, 280), (-57.0128527284, 160), (-77.0128527284, 160), align=None)
    extrude(amount=F20_DEPTH)


with BuildPart() as f22_1:
    # F22: instance of F20
    add(f20.part.mirror(Plane(origin=(424.9682962894, 8.14114362, 10), x_dir=(0, -1, 0), z_dir=(-1, 0, 0))))


solid = Compound([f1.part, f7_1.part, f6_1.part, f3_2.part, f4_1_1.part, f14.part, f16.part, f18_1.part, f20.part, f22_1.part])
